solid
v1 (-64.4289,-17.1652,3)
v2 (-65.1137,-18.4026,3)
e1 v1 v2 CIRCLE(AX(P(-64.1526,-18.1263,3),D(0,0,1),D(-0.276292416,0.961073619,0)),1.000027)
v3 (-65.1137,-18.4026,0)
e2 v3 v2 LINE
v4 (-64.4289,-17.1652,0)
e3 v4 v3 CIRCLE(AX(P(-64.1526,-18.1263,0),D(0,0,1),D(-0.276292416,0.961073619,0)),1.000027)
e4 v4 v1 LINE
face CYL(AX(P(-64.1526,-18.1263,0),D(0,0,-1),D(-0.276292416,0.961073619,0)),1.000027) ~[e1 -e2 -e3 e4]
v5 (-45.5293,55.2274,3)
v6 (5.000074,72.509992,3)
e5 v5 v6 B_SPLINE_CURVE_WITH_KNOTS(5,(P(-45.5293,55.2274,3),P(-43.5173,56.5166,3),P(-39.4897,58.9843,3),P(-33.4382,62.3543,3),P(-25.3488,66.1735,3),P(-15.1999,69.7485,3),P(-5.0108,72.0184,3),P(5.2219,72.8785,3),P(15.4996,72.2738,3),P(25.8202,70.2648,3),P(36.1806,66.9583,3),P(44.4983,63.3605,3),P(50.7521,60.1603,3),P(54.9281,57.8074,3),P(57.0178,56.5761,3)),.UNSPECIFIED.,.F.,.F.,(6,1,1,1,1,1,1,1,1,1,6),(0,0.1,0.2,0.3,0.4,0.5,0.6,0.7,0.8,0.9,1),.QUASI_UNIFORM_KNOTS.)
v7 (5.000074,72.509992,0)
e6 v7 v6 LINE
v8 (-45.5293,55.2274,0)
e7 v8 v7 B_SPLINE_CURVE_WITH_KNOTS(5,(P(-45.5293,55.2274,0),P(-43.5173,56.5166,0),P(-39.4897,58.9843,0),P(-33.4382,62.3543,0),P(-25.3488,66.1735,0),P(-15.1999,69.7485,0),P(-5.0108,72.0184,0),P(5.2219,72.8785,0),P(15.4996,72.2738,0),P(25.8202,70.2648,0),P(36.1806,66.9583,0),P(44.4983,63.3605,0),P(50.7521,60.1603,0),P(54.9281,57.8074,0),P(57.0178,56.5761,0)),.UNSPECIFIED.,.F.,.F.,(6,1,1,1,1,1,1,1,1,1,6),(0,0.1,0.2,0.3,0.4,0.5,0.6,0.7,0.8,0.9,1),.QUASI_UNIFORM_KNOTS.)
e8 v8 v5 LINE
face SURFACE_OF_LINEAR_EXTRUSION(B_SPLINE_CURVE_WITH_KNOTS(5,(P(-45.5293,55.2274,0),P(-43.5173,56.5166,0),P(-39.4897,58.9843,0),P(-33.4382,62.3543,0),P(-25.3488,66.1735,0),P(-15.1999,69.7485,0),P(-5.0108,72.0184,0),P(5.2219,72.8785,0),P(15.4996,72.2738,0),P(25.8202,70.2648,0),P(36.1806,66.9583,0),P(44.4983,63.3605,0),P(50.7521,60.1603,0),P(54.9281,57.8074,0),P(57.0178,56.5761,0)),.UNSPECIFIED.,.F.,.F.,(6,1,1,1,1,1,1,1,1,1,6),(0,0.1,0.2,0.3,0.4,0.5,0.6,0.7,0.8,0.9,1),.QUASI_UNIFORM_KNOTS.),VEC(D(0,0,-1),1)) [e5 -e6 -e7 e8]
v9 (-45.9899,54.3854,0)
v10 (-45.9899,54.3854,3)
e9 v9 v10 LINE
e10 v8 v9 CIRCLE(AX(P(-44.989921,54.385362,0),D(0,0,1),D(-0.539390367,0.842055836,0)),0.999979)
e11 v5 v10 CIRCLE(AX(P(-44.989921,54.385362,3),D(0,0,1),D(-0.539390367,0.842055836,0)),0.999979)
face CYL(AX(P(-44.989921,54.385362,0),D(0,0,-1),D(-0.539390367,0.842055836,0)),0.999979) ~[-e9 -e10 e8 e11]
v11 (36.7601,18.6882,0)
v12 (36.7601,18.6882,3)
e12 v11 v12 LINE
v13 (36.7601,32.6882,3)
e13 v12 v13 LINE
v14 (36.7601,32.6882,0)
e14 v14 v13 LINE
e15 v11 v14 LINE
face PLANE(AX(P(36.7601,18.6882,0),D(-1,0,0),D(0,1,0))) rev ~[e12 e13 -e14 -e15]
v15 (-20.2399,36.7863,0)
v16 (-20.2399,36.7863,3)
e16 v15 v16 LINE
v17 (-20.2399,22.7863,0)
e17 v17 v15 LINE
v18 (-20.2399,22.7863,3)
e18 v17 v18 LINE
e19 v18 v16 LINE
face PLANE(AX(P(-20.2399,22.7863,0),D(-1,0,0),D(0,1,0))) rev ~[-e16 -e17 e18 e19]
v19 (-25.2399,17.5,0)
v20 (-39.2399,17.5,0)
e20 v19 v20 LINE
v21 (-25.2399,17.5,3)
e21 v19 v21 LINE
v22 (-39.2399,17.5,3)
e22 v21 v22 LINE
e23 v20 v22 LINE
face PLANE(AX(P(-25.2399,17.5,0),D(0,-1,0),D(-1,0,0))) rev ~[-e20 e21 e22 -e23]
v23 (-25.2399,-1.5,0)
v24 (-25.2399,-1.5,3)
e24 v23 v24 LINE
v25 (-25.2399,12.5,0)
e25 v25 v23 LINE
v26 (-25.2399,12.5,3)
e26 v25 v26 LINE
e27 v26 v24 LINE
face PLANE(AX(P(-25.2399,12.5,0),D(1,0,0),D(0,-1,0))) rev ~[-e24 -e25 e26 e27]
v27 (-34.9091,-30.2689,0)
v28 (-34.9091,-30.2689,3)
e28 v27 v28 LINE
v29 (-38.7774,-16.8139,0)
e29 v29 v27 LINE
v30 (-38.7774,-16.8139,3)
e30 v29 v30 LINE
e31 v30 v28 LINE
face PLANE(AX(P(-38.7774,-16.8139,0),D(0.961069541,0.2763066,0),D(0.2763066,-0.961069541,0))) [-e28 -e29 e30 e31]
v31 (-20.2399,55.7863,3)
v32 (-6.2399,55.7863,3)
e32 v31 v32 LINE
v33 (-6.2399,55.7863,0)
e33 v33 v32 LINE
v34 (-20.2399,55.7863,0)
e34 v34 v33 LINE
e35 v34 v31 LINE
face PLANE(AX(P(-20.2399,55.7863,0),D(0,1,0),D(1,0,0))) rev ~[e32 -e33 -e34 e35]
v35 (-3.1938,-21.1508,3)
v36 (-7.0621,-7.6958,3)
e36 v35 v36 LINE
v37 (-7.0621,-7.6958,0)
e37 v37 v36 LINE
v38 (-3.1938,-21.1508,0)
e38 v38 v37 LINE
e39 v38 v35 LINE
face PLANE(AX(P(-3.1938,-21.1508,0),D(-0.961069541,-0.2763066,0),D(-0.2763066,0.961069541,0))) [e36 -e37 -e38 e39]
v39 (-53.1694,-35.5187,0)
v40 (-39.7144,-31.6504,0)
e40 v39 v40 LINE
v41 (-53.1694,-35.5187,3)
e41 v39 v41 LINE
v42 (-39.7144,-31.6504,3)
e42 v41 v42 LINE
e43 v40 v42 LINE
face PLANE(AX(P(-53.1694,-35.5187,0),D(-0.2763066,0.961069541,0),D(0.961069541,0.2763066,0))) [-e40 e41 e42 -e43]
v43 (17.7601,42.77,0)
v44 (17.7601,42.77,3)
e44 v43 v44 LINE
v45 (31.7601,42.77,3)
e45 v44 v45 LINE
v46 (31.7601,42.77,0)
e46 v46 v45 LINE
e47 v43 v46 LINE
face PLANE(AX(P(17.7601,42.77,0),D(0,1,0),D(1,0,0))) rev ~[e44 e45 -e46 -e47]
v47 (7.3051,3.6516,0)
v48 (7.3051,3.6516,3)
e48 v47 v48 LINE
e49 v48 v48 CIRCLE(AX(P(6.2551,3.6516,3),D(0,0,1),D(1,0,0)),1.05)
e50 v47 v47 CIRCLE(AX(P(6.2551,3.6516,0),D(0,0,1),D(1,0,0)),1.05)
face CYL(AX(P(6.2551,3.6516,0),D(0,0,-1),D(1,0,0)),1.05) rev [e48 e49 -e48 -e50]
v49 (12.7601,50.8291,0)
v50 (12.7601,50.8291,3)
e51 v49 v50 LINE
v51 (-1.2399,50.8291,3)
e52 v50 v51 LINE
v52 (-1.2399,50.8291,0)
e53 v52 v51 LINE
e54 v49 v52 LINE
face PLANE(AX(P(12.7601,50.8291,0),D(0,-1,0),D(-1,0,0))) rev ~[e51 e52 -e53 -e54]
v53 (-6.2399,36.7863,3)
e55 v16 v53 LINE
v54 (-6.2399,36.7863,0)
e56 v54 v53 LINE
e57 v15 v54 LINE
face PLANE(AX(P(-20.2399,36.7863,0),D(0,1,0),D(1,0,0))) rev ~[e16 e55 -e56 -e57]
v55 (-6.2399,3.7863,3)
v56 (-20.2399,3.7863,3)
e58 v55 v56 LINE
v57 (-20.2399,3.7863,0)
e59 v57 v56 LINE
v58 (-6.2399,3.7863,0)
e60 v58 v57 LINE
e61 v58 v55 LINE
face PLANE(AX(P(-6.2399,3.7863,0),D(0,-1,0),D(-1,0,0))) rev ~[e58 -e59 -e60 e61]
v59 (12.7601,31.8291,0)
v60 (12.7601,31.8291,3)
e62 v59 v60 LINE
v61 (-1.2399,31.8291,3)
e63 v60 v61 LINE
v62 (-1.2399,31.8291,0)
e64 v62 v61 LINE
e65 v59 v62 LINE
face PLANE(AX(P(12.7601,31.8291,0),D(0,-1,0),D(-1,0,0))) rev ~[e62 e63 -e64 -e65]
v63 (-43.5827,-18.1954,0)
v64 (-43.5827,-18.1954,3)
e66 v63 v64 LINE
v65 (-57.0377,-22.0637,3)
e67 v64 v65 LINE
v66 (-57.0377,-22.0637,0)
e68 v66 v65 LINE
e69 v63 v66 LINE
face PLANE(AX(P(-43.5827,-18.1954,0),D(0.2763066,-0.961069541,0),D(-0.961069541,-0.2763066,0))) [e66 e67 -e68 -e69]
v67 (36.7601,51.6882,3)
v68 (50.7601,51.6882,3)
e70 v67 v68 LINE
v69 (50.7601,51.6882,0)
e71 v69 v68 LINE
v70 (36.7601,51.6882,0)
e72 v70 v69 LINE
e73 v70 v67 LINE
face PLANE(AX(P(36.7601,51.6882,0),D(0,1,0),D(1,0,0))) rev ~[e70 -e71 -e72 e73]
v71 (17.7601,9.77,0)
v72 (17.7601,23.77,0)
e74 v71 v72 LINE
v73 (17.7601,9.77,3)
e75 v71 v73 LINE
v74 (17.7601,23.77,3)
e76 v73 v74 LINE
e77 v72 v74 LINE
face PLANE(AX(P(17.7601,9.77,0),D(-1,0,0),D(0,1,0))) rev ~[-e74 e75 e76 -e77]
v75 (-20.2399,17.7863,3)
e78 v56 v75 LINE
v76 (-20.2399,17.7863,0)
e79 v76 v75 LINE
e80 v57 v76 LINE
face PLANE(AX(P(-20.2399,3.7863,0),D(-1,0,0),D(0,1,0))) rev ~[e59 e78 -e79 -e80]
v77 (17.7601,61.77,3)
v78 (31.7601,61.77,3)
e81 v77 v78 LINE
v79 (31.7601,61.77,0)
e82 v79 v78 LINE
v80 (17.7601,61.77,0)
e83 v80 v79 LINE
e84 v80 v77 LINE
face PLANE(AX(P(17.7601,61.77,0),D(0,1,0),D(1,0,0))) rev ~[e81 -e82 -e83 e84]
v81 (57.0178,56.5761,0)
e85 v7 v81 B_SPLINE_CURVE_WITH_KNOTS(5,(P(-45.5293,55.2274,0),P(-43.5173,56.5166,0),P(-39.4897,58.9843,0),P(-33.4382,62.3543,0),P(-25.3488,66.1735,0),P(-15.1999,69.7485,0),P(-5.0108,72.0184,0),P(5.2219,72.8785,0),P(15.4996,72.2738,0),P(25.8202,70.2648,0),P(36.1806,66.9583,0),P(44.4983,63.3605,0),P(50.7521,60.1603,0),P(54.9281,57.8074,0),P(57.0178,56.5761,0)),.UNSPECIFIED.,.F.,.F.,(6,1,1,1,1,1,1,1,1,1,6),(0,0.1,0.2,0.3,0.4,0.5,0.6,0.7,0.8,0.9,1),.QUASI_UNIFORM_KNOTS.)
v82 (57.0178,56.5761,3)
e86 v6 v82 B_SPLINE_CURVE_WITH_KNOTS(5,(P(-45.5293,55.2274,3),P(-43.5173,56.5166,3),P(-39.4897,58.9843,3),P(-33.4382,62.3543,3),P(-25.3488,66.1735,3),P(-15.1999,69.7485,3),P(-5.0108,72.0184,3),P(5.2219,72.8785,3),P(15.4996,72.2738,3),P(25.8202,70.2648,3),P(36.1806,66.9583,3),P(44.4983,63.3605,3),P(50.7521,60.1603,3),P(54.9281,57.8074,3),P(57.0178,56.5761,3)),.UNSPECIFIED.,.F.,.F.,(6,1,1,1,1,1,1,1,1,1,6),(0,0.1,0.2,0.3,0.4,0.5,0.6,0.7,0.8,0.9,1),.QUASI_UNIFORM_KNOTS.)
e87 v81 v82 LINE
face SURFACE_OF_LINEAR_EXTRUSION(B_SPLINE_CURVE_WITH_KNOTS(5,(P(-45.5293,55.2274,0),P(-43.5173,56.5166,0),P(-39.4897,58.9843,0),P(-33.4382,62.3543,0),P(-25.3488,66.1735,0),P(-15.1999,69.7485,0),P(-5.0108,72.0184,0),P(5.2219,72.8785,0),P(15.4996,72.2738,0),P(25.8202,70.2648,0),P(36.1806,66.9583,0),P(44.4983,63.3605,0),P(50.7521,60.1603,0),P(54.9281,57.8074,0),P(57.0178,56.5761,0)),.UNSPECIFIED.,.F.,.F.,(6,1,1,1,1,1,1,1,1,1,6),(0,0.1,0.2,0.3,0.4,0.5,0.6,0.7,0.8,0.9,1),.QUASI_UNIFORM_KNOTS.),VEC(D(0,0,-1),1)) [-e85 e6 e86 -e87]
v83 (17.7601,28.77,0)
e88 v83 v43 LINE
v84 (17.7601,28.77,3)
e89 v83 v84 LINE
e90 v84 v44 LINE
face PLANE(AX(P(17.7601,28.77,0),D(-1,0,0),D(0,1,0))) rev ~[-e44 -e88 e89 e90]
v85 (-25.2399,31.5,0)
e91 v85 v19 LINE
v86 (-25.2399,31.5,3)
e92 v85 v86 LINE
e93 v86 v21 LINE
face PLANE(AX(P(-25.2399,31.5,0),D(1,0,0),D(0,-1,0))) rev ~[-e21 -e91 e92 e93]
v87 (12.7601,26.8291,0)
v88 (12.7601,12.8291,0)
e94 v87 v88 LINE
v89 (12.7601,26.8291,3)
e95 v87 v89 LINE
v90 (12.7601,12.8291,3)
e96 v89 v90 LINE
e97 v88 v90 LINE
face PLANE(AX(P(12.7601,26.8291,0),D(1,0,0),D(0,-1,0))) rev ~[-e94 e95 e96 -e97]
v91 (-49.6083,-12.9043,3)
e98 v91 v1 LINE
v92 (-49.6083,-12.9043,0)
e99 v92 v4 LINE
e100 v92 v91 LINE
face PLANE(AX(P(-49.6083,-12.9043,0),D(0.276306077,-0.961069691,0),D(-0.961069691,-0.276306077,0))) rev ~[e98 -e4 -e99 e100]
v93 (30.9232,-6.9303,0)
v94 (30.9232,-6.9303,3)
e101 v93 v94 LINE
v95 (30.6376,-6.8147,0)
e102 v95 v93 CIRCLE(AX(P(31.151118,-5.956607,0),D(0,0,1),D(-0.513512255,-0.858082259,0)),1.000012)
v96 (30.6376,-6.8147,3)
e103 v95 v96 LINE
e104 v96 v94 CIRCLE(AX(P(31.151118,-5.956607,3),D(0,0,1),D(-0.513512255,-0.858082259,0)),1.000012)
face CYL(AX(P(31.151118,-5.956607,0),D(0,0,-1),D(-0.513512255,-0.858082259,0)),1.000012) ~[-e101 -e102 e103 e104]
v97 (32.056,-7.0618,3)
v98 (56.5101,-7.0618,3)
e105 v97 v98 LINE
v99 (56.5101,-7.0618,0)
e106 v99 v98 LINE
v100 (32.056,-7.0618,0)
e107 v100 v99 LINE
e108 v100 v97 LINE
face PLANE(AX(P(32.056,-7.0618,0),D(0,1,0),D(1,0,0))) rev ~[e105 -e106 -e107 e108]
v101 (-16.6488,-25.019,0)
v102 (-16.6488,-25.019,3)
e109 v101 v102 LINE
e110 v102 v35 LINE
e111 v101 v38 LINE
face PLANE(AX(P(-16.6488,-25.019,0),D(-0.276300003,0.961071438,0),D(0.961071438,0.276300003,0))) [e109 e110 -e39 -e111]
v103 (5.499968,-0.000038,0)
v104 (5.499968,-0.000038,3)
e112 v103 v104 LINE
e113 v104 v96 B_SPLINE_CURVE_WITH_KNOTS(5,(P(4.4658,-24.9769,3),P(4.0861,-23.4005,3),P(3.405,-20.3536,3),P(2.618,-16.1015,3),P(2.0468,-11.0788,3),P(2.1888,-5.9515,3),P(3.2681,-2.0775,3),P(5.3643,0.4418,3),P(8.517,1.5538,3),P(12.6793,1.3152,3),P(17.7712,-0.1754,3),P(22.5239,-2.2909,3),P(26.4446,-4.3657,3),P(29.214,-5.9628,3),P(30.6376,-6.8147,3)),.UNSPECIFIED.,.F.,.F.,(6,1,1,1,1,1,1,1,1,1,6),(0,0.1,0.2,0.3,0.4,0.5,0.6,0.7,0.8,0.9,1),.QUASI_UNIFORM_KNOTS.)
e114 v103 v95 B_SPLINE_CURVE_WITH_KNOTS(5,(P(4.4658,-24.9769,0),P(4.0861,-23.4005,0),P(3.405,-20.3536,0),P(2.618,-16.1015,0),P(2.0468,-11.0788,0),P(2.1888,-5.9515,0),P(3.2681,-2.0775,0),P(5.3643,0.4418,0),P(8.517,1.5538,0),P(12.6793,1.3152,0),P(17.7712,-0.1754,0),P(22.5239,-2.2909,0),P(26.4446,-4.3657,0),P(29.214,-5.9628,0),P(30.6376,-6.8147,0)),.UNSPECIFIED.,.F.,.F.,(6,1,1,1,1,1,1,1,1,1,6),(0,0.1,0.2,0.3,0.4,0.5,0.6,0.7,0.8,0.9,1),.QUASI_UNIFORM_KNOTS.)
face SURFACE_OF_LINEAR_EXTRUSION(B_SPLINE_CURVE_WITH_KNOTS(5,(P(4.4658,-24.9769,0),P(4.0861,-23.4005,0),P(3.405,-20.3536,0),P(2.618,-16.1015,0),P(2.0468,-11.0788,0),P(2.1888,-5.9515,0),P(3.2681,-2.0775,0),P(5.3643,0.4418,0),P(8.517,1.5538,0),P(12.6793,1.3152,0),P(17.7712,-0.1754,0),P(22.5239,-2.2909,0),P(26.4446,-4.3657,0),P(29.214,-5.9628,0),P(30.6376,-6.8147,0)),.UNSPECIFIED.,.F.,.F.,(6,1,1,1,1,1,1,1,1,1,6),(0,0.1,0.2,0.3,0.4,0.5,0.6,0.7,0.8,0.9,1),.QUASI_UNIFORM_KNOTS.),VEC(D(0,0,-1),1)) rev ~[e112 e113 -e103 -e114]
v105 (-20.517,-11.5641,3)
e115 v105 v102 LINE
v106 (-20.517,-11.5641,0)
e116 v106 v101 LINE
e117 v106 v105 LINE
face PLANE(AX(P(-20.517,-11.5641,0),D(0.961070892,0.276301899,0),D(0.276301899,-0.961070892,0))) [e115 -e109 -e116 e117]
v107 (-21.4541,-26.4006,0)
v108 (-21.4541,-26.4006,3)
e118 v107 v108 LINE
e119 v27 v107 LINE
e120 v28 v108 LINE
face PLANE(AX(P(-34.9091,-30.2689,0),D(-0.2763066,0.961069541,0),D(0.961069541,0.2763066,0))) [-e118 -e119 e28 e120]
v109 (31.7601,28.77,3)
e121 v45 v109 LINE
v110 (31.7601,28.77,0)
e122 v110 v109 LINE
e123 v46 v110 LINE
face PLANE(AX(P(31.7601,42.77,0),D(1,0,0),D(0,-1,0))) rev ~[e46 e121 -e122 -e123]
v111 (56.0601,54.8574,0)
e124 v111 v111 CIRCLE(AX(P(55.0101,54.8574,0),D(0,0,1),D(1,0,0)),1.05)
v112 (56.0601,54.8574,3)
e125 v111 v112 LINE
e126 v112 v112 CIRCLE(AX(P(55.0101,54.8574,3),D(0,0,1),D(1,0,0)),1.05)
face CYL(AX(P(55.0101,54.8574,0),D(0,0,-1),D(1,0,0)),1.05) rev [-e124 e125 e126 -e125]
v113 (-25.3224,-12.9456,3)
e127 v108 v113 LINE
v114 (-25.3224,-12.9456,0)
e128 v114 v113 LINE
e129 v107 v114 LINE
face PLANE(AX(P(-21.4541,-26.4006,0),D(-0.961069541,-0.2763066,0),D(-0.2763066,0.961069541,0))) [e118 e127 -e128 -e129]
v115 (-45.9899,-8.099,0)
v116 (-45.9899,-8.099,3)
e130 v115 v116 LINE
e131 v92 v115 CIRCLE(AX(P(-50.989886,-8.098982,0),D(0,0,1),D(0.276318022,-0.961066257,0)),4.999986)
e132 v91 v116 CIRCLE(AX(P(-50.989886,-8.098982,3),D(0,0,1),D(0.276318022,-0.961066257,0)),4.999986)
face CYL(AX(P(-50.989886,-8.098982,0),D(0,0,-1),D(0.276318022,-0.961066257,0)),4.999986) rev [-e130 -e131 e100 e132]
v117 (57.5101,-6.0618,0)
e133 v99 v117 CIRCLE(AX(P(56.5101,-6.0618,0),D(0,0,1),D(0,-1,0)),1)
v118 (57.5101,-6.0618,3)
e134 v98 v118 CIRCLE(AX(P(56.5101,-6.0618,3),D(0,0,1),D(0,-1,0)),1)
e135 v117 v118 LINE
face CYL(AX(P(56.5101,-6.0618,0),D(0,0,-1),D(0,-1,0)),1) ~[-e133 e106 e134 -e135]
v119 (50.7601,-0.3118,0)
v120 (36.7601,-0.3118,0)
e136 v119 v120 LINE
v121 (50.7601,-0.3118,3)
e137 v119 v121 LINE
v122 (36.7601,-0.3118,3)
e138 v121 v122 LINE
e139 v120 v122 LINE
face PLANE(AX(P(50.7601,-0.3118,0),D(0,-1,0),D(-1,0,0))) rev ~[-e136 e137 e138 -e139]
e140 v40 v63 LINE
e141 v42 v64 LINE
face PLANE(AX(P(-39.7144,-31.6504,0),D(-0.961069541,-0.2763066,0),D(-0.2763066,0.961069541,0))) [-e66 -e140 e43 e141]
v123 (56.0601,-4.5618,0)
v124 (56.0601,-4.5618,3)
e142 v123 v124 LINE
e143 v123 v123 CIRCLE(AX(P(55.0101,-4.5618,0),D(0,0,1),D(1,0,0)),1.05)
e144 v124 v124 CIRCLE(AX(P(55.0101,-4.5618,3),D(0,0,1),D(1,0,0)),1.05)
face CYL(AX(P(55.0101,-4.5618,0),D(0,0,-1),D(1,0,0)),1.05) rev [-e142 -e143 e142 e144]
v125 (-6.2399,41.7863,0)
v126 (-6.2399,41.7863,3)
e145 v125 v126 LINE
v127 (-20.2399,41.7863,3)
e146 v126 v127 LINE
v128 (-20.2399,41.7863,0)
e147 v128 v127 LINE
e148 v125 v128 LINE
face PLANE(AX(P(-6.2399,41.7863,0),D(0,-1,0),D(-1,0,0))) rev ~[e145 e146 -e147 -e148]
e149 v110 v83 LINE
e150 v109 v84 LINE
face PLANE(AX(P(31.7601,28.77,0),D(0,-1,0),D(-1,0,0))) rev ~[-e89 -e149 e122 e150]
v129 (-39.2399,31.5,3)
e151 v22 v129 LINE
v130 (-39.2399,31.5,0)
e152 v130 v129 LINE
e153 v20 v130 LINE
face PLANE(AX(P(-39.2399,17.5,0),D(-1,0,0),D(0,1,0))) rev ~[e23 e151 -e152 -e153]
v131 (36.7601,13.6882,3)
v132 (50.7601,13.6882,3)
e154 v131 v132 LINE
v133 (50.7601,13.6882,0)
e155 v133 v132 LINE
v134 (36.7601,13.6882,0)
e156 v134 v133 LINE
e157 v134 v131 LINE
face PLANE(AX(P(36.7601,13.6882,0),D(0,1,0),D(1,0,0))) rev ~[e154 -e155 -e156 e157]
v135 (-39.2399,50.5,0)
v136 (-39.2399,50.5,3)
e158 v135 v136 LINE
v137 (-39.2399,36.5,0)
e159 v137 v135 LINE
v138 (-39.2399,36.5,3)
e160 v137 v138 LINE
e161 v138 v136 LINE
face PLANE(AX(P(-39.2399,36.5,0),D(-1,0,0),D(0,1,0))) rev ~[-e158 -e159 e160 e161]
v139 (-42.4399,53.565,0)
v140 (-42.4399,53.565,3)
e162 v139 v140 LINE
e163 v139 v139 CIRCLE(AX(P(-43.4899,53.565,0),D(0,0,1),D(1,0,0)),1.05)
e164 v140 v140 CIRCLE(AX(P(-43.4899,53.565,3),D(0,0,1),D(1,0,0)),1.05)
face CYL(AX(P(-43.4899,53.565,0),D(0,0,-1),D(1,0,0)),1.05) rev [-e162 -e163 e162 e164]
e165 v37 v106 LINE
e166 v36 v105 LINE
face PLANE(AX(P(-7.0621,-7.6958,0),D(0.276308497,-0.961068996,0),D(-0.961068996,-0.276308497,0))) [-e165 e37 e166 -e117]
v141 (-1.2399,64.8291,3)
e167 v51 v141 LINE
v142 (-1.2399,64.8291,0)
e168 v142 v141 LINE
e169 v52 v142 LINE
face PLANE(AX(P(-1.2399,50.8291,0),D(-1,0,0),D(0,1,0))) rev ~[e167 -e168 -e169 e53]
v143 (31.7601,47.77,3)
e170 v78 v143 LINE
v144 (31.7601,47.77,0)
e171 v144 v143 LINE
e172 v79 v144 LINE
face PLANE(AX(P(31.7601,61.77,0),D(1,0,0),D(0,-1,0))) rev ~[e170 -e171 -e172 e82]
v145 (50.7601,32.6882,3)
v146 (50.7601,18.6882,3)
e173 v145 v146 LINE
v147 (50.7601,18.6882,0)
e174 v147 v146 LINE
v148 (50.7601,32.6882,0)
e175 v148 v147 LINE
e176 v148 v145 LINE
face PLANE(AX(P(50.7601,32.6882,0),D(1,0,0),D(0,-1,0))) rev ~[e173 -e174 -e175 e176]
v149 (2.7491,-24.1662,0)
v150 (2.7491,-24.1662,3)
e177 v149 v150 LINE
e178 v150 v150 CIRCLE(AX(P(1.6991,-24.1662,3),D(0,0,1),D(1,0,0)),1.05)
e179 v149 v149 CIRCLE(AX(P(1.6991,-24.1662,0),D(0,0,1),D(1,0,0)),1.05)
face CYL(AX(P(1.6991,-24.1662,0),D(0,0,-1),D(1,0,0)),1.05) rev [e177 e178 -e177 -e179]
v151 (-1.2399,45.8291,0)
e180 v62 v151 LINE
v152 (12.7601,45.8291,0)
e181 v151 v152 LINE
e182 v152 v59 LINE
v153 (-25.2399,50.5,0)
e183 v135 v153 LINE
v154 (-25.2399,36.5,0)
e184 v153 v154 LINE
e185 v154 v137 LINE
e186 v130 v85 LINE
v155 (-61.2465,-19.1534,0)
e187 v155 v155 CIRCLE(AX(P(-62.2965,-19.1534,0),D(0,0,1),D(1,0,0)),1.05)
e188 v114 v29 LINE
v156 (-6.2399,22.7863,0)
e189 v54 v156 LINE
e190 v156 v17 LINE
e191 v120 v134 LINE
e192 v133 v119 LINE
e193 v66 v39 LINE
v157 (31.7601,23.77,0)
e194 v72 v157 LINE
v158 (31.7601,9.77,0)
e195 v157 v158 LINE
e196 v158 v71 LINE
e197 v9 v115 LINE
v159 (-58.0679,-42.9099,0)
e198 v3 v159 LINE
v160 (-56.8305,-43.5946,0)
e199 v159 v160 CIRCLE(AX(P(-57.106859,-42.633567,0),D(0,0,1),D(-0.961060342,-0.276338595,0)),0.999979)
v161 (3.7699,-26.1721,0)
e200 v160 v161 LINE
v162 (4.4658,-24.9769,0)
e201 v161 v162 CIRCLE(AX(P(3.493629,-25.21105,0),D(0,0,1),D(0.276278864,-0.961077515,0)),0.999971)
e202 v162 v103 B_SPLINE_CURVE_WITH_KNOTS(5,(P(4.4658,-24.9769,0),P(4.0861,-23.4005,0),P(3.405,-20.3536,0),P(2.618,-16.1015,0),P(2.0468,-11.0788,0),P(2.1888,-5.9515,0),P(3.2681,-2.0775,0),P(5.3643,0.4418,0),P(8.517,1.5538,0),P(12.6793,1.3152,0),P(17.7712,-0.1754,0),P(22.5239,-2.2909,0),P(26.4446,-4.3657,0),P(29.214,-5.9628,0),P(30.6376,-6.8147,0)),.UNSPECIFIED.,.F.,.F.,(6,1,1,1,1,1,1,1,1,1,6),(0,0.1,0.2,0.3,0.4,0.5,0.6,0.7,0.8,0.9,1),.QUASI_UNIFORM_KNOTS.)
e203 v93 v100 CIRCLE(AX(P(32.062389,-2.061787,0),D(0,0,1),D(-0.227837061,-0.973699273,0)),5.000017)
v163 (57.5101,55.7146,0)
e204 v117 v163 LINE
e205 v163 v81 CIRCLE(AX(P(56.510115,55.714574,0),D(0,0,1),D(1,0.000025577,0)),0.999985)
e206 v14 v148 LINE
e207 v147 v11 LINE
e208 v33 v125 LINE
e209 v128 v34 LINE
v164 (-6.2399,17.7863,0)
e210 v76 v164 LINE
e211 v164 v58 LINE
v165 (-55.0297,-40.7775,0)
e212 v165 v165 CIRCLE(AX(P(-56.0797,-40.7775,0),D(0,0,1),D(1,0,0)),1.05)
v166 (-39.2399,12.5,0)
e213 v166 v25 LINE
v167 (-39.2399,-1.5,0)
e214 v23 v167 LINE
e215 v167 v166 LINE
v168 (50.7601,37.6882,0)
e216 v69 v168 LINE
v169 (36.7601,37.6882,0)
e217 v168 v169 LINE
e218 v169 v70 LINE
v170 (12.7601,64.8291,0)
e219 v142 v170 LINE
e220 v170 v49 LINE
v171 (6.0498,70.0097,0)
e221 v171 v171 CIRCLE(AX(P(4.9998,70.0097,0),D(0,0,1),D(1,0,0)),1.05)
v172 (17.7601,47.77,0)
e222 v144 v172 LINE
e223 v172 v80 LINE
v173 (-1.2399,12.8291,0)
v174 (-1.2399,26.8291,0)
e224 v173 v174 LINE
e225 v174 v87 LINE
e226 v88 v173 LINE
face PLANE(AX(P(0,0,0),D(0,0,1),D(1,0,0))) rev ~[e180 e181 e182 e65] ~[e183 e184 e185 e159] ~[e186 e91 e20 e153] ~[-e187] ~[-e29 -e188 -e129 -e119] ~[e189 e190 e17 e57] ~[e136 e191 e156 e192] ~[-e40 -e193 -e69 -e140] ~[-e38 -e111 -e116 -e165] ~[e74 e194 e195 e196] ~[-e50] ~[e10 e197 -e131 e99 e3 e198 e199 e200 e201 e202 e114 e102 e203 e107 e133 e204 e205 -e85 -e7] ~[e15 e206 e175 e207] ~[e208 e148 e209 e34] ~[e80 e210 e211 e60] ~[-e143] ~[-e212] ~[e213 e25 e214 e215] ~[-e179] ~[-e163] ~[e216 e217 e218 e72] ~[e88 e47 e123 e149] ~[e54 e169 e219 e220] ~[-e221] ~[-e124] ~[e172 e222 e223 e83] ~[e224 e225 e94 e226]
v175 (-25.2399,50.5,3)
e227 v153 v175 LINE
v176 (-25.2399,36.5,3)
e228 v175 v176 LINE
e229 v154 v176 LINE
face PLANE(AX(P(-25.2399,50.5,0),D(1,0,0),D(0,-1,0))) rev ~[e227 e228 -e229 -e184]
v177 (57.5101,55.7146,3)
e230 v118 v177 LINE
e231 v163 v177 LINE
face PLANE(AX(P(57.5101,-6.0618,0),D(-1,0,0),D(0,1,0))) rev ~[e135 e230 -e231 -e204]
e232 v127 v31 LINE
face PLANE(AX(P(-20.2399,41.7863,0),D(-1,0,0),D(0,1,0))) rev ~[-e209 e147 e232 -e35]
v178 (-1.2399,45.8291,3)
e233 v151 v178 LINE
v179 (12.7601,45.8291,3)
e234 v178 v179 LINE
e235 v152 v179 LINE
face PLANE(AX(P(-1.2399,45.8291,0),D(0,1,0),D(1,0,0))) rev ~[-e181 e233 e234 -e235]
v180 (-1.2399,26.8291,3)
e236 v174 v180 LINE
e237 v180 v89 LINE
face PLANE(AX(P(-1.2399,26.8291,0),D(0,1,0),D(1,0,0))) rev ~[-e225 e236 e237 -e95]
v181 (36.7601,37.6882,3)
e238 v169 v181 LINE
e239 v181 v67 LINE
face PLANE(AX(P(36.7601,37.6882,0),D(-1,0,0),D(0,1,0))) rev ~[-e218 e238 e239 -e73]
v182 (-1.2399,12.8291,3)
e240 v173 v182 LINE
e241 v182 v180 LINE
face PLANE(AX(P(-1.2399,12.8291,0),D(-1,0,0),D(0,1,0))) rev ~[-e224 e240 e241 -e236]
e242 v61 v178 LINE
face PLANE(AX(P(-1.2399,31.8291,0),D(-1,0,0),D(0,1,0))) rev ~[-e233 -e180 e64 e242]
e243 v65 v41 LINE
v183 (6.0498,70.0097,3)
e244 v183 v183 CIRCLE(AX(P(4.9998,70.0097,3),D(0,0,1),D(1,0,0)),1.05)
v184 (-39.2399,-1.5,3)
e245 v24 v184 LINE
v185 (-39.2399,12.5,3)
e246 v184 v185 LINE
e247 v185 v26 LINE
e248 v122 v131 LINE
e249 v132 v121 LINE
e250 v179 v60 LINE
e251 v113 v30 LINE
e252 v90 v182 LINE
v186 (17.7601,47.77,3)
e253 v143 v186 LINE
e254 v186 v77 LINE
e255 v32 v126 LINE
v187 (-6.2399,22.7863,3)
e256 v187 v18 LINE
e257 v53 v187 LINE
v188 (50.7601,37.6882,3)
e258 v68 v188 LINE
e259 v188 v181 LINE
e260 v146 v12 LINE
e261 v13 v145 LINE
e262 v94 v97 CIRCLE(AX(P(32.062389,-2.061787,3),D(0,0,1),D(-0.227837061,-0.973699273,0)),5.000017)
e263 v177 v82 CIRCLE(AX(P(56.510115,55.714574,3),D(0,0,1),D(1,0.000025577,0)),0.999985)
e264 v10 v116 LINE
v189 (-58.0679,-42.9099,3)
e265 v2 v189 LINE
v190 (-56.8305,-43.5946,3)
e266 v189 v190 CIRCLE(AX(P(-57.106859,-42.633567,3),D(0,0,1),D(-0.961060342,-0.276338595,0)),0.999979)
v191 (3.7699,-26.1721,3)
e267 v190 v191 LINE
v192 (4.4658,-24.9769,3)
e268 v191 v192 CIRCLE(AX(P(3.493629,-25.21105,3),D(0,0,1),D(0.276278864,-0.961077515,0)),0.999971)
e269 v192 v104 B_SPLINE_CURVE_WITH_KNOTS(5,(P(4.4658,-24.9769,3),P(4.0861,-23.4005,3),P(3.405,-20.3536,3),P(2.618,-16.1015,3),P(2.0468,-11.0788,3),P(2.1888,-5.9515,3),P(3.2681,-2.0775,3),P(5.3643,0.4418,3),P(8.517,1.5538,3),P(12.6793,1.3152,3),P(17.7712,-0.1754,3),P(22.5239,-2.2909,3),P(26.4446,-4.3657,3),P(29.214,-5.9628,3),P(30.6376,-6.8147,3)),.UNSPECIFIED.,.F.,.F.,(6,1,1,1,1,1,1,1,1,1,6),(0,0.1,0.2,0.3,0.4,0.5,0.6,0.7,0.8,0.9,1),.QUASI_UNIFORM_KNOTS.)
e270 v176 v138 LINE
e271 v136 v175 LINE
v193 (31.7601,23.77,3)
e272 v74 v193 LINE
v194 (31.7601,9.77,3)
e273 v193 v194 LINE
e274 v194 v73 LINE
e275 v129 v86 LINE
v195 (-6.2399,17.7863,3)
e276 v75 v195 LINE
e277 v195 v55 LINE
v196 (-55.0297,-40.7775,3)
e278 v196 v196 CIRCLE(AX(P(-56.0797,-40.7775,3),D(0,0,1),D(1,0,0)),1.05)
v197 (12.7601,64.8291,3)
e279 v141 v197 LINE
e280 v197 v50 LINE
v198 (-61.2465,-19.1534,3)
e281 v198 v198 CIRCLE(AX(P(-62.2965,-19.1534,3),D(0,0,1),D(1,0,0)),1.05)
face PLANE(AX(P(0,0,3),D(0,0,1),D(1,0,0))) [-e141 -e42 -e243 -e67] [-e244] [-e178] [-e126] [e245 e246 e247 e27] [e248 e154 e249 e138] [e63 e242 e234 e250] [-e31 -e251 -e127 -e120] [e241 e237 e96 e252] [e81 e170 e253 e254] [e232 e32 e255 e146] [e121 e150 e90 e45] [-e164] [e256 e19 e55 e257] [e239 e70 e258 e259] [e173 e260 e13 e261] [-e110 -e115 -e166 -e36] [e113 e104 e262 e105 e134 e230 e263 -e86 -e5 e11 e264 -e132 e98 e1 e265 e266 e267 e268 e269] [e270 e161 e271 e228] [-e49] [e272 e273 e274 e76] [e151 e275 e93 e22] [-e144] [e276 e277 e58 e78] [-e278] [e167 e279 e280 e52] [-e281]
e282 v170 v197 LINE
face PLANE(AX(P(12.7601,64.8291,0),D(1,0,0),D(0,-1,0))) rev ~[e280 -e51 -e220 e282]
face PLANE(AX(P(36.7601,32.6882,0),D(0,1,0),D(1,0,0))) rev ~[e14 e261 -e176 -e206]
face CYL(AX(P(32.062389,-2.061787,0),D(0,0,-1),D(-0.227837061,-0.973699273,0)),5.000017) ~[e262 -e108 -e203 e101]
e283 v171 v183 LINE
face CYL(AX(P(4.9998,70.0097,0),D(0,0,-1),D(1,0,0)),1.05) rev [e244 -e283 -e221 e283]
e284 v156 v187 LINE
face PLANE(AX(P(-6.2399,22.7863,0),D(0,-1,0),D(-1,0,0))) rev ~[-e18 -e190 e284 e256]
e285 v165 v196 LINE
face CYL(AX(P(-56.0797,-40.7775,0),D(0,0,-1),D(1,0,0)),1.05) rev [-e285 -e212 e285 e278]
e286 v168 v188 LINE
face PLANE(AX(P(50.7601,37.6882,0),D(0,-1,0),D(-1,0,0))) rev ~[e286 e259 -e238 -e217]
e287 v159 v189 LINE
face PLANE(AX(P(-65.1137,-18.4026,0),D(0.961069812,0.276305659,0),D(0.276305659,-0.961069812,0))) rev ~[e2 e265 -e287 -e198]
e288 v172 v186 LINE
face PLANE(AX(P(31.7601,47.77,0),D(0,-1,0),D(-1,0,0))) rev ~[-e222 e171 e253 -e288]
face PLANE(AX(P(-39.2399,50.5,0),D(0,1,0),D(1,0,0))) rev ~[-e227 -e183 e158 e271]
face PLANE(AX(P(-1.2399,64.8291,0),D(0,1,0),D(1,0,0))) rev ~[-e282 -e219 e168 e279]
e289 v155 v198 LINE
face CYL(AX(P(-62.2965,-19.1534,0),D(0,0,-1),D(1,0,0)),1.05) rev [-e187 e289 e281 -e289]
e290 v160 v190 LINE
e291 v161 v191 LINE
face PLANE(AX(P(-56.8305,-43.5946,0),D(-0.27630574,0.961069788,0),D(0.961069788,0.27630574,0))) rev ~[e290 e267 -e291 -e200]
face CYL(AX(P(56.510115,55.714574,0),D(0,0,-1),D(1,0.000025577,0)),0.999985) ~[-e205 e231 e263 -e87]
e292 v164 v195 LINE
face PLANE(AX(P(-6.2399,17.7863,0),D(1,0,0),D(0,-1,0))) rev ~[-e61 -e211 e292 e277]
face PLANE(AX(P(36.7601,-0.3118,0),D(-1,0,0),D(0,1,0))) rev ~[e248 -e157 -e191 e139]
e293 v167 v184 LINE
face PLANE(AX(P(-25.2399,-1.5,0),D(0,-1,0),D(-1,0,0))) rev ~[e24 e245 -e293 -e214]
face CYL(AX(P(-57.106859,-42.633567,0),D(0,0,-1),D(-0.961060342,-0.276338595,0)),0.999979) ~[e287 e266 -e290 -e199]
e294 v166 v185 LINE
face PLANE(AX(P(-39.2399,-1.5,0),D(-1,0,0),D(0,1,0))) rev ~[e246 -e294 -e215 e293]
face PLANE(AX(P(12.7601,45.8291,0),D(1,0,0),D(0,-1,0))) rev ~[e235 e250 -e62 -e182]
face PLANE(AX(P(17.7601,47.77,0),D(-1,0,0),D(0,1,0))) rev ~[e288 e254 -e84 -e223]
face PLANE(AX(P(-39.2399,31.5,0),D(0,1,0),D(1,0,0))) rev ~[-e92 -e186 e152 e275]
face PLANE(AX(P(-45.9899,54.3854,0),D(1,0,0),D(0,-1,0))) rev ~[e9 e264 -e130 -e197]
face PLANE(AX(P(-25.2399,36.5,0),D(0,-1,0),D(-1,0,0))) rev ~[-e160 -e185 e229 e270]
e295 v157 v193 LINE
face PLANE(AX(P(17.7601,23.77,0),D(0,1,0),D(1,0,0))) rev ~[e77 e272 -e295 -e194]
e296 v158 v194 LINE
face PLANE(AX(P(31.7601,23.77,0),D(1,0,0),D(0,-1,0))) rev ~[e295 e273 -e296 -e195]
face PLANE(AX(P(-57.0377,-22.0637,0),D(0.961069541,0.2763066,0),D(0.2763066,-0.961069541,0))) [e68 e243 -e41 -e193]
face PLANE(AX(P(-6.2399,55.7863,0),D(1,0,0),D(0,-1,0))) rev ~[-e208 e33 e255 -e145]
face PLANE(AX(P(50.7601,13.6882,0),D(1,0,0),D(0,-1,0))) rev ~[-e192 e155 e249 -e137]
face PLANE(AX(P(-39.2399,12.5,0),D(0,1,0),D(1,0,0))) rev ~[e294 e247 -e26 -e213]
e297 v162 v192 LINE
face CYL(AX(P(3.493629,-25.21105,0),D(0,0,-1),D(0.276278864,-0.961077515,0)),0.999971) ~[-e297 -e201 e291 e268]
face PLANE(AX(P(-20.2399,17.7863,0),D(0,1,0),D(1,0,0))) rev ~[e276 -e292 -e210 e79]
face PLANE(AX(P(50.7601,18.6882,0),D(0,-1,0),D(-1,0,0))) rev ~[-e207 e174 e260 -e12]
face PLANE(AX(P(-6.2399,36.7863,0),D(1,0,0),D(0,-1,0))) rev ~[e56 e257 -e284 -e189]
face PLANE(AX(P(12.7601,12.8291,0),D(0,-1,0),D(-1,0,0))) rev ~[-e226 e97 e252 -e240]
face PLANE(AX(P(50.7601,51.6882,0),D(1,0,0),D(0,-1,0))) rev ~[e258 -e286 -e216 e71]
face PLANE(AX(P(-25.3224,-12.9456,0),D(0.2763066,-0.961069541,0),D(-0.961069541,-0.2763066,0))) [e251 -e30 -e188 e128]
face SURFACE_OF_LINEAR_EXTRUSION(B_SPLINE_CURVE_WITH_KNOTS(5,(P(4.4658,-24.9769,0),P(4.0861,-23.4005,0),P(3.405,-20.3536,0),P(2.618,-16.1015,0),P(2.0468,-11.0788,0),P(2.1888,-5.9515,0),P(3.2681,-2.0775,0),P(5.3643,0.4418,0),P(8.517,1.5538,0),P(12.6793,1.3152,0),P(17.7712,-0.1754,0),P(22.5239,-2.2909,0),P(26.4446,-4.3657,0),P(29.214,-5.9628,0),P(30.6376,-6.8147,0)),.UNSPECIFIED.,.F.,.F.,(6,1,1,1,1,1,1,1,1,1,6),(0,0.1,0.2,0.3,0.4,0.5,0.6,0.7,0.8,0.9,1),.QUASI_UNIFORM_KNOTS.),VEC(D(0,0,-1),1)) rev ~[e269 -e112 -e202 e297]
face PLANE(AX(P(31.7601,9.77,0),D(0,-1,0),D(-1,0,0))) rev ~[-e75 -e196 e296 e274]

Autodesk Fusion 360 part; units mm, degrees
sketch "Sketch1" plane through (0, 0, 0) normal (0, 0, 1) x (1, 0, 0)
  line L0 (-65.1137, -18.4026) -> (-58.0679, -42.9099)
  line L1 (-56.8305, -43.5946) -> (3.7699, -26.1721)
  line L2 (32.056, -7.0618) -> (56.5101, -7.0618)
  line L3 (57.5101, -6.0618) -> (57.5101, 55.7146)
  line L4 (-45.9899, 54.3854) -> (-45.9899, -8.099)
  line L5 (-49.6083, -12.9043) -> (-64.4289, -17.1652)
  line L6 (-39.2399, 50.5) -> (-25.2399, 50.5)
  line L7 (-25.2399, 50.5) -> (-25.2399, 36.5)
  line L8 (-25.2399, 36.5) -> (-39.2399, 36.5)
  line L9 (-39.2399, 36.5) -> (-39.2399, 50.5)
  line L10 (-39.2399, 31.5) -> (-25.2399, 31.5)
  line L11 (-25.2399, 31.5) -> (-25.2399, 17.5)
  line L12 (-25.2399, 17.5) -> (-39.2399, 17.5)
  line L13 (-39.2399, 17.5) -> (-39.2399, 31.5)
  line L14 (-39.2399, 12.5) -> (-25.2399, 12.5)
  line L15 (-25.2399, 12.5) -> (-25.2399, -1.5)
  line L16 (-25.2399, -1.5) -> (-39.2399, -1.5)
  line L17 (-39.2399, -1.5) -> (-39.2399, 12.5)
  line L18 (-6.2399, 17.7863) -> (-6.2399, 3.7863)
  line L19 (-20.2399, 17.7863) -> (-6.2399, 17.7863)
  line L20 (-6.2399, 3.7863) -> (-20.2399, 3.7863)
  line L21 (-6.2399, 36.7863) -> (-6.2399, 22.7863)
  line L22 (-6.2399, 22.7863) -> (-20.2399, 22.7863)
  line L23 (-6.2399, 55.7863) -> (-6.2399, 41.7863)
  line L24 (-20.2399, 41.7863) -> (-20.2399, 55.7863)
  line L25 (-20.2399, 22.7863) -> (-20.2399, 36.7863)
  line L26 (-20.2399, 36.7863) -> (-6.2399, 36.7863)
  line L27 (-6.2399, 41.7863) -> (-20.2399, 41.7863)
  line L28 (-20.2399, 55.7863) -> (-6.2399, 55.7863)
  line L29 (-20.2399, 3.7863) -> (-20.2399, 17.7863)
  line L30 (12.7601, 26.8291) -> (12.7601, 12.8291)
  line L31 (-1.2399, 26.8291) -> (12.7601, 26.8291)
  line L32 (12.7601, 12.8291) -> (-1.2399, 12.8291)
  line L33 (12.7601, 45.8291) -> (12.7601, 31.8291)
  line L34 (12.7601, 31.8291) -> (-1.2399, 31.8291)
  line L35 (12.7601, 64.8291) -> (12.7601, 50.8291)
  line L36 (-1.2399, 50.8291) -> (-1.2399, 64.8291)
  line L37 (-1.2399, 31.8291) -> (-1.2399, 45.8291)
  line L38 (-1.2399, 45.8291) -> (12.7601, 45.8291)
  line L39 (12.7601, 50.8291) -> (-1.2399, 50.8291)
  line L40 (-1.2399, 64.8291) -> (12.7601, 64.8291)
  line L41 (-1.2399, 12.8291) -> (-1.2399, 26.8291)
  line L42 (31.7601, 23.77) -> (31.7601, 9.77)
  line L43 (17.7601, 23.77) -> (31.7601, 23.77)
  line L44 (31.7601, 9.77) -> (17.7601, 9.77)
  line L45 (31.7601, 42.77) -> (31.7601, 28.77)
  line L46 (31.7601, 28.77) -> (17.7601, 28.77)
  line L47 (31.7601, 61.77) -> (31.7601, 47.77)
  line L48 (17.7601, 47.77) -> (17.7601, 61.77)
  line L49 (17.7601, 28.77) -> (17.7601, 42.77)
  line L50 (17.7601, 42.77) -> (31.7601, 42.77)
  line L51 (31.7601, 47.77) -> (17.7601, 47.77)
  line L52 (17.7601, 61.77) -> (31.7601, 61.77)
  line L53 (17.7601, 9.77) -> (17.7601, 23.77)
  line L54 (50.7601, 13.6882) -> (50.7601, -0.3118)
  line L55 (36.7601, 13.6882) -> (50.7601, 13.6882)
  line L56 (50.7601, -0.3118) -> (36.7601, -0.3118)
  line L57 (50.7601, 32.6882) -> (50.7601, 18.6882)
  line L58 (50.7601, 18.6882) -> (36.7601, 18.6882)
  line L59 (50.7601, 51.6882) -> (50.7601, 37.6882)
  line L60 (36.7601, 37.6882) -> (36.7601, 51.6882)
  line L61 (36.7601, 18.6882) -> (36.7601, 32.6882)
  line L62 (36.7601, 32.6882) -> (50.7601, 32.6882)
  line L63 (50.7601, 37.6882) -> (36.7601, 37.6882)
  line L64 (36.7601, 51.6882) -> (50.7601, 51.6882)
  line L65 (36.7601, -0.3118) -> (36.7601, 13.6882)
  line L66 (-57.0377, -22.0637) -> (-53.1694, -35.5187)
  line L67 (-53.1694, -35.5187) -> (-39.7144, -31.6504)
  line L68 (-39.7144, -31.6504) -> (-43.5827, -18.1954)
  line L69 (-43.5827, -18.1954) -> (-57.0377, -22.0637)
  line L70 (-38.7774, -16.8139) -> (-34.9091, -30.2689)
  line L71 (-34.9091, -30.2689) -> (-21.4541, -26.4006)
  line L72 (-21.4541, -26.4006) -> (-25.3224, -12.9456)
  line L73 (-25.3224, -12.9456) -> (-38.7774, -16.8139)
  line L74 (-7.0621, -7.6958) -> (-20.517, -11.5641)
  line L75 (-3.1938, -21.1508) -> (-7.0621, -7.6958)
  line L76 (-20.517, -11.5641) -> (-16.6488, -25.019)
  line L77 (-16.6488, -25.019) -> (-3.1938, -21.1508)
  arc A0 (30.9232, -6.9303) -> (32.056, -7.0618) centre (32.0625, -2.0618) ccw
  arc A1 (56.5101, -7.0618) -> (57.5101, -6.0618) centre (56.5101, -6.0618) ccw
  arc A2 (-49.6083, -12.9043) -> (-45.9899, -8.099) centre (-50.9899, -8.099) ccw
  arc A3 (-64.4289, -17.1652) -> (-65.1137, -18.4026) centre (-64.1526, -18.1263) ccw
  arc A4 (-58.0679, -42.9099) -> (-56.8305, -43.5946) centre (-57.1068, -42.6336) ccw
  spline S0 degree 5 poles (4.4658, -24.9769) (4.0861, -23.4005) (3.405, -20.3536) (2.618, -16.1015) (2.0468, -11.0788) (2.1888, -5.9515) (3.2681, -2.0775) (5.3643, 0.4418) (8.517, 1.5538) (12.6793, 1.3152) (17.7712, -0.1754) (22.5239, -2.2909) (26.4446, -4.3657) (29.214, -5.9628) (30.6376, -6.8147) knots 0 0 0 0 0 0 0.1 0.2 0.3 0.4 0.5 0.6 0.7 0.8 0.9 1 1 1 1 1 1
  spline S1 degree 5 poles (-45.5293, 55.2274) (-43.5173, 56.5166) (-39.4897, 58.9843) (-33.4382, 62.3543) (-25.3488, 66.1735) (-15.1999, 69.7485) (-5.0108, 72.0184) (5.2219, 72.8785) (15.4996, 72.2738) (25.8202, 70.2648) (36.1806, 66.9583) (44.4983, 63.3605) (50.7521, 60.1603) (54.9281, 57.8074) (57.0178, 56.5761) knots 0 0 0 0 0 0 0.1 0.2 0.3 0.4 0.5 0.6 0.7 0.8 0.9 1 1 1 1 1 1
  arc A5 (57.5101, 55.7146) -> (57.0178, 56.5761) centre (56.5101, 55.7146) ccw
  arc A6 (-45.5293, 55.2274) -> (-45.9899, 54.3854) centre (-44.9899, 54.3854) ccw
  arc A7 (3.7699, -26.1721) -> (4.4658, -24.9769) centre (3.4936, -25.2111) ccw
  arc A8 (30.6376, -6.8147) -> (30.9232, -6.9303) centre (31.1511, -5.9566) ccw
  line L78 (6.3992, -33.0044) -> (2.5325, -16.9495)
  circle A9 centre (-43.4899, 53.565) radius 1.05
  line L79 (-55.3639, 48.9264) -> (-35.6948, 61.5285)
  circle A10 centre (4.9998, 70.0097) radius 1.05
  line L80 (-4.8791, 72.3551) -> (14.8791, 72.6649)
  circle A11 centre (55.0101, 54.8574) radius 1.05
  line L81 (46.894, 62.5413) -> (67.1415, 50.611)
  circle A12 centre (55.0101, -4.5618) radius 1.05
  circle A13 centre (6.2551, 3.6516) radius 1.05
  circle A14 centre (1.6991, -24.1662) radius 1.05
  line L82 (3.2764, -1.6283) -> (7.7236, 1.6283)
  circle A15 centre (-56.0797, -40.7775) radius 1.05
  circle A16 centre (-62.2965, -19.1534) radius 1.05
  point P0 (-57.7916, -43.8709)
  point P1 (5.5, 0)
  point P2 (5, 72.51)
  dimension "d1" = 27.5
  dimension "d2" = 14
  dimension "d3" = 14
  dimension "d4" = 14
  dimension "d5" = 14
  dimension "d6" = 14
  dimension "d7" = 14
  dimension "d18" = 14
  dimension "d19" = 14
  dimension "d20" = 14
  dimension "d21" = 14
  dimension "d22" = 14
  dimension "d23" = 14
  dimension "d26" = 14
  dimension "d27" = 14
  dimension "d28" = 14
  dimension "d29" = 14
  dimension "d30" = 14
  dimension "d31" = 14
  dimension "d34" = 14
  dimension "d35" = 14
  dimension "d36" = 14
  dimension "d37" = 14
  dimension "d38" = 14
  dimension "d39" = 14
  dimension "d42" = 14
  dimension "d43" = 14
  dimension "d44" = 14
  dimension "d45" = 14
  dimension "d46" = 14
  dimension "d47" = 14
  dimension "d48" = 5
  dimension "d50" = 5
  dimension "d51" = 5
  dimension "d52" = 5
  dimension "d53" = 5
  dimension "d54" = 5
  dimension "d55" = 5
  dimension "d59" = 5
  dimension "d66" = 14
  dimension "d67" = 14
  dimension "d70" = 14
  dimension "d71" = 14
  dimension "d73" = 14
  dimension "d74" = 14
  dimension "d77" = 6.75
  dimension "d80" = 1
  dimension "d83" = 5
  dimension "d85" = 1
  dimension "d86" = 1
  dimension "d135" = 6.75
  dimension "d139" = 1
  dimension "d140" = 1
  dimension "d141" = 1
  dimension "d142" = 1
  dimension "d175" = 2.1
  dimension "d176" = 2.5
  dimension "d177" = 2.5
  dimension "d178" = 2.1
  dimension "d179" = 2.5
  dimension "d180" = 2.1
  dimension "d181" = 2.5
  dimension "d182" = 2.5
  dimension "d183" = 2.1
  dimension "d184" = 2.5
  dimension "d185" = 2.5
  dimension "d186" = 2.1
  dimension "d187" = 2.1
  dimension "d188" = 2.5
  dimension "d189" = 2.5
  dimension "d190" = 2.5
  dimension "d191" = 2.1
  dimension "d192" = 2.5
  dimension "d193" = 2.5
  dimension "d194" = 2.1
  dimension "d195" = 2.5
  dimension "d196" = 2.5
  dimension "d197" = 6.75
  dimension "d198" = 6.75
  dimension "d199" = 6.75
  dimension "d201" = 5
  dimension "d202" = 6.75
  dimension "d203" = 6.75
  dimension "d204" = 5
  dimension "d205" = 5
  dimension "d206" = 5
  dimension "d207" = 5
  dimension "d208" = 5
  dimension "d209" = 5
  dimension "d210" = 5
  dimension "d211" = 5
  dimension "d212" = 5
  dimension "d214" = 5
  dimension "d215" = 5
extrude "Extrude3" add sketch "Sketch1" along normal blind 3
